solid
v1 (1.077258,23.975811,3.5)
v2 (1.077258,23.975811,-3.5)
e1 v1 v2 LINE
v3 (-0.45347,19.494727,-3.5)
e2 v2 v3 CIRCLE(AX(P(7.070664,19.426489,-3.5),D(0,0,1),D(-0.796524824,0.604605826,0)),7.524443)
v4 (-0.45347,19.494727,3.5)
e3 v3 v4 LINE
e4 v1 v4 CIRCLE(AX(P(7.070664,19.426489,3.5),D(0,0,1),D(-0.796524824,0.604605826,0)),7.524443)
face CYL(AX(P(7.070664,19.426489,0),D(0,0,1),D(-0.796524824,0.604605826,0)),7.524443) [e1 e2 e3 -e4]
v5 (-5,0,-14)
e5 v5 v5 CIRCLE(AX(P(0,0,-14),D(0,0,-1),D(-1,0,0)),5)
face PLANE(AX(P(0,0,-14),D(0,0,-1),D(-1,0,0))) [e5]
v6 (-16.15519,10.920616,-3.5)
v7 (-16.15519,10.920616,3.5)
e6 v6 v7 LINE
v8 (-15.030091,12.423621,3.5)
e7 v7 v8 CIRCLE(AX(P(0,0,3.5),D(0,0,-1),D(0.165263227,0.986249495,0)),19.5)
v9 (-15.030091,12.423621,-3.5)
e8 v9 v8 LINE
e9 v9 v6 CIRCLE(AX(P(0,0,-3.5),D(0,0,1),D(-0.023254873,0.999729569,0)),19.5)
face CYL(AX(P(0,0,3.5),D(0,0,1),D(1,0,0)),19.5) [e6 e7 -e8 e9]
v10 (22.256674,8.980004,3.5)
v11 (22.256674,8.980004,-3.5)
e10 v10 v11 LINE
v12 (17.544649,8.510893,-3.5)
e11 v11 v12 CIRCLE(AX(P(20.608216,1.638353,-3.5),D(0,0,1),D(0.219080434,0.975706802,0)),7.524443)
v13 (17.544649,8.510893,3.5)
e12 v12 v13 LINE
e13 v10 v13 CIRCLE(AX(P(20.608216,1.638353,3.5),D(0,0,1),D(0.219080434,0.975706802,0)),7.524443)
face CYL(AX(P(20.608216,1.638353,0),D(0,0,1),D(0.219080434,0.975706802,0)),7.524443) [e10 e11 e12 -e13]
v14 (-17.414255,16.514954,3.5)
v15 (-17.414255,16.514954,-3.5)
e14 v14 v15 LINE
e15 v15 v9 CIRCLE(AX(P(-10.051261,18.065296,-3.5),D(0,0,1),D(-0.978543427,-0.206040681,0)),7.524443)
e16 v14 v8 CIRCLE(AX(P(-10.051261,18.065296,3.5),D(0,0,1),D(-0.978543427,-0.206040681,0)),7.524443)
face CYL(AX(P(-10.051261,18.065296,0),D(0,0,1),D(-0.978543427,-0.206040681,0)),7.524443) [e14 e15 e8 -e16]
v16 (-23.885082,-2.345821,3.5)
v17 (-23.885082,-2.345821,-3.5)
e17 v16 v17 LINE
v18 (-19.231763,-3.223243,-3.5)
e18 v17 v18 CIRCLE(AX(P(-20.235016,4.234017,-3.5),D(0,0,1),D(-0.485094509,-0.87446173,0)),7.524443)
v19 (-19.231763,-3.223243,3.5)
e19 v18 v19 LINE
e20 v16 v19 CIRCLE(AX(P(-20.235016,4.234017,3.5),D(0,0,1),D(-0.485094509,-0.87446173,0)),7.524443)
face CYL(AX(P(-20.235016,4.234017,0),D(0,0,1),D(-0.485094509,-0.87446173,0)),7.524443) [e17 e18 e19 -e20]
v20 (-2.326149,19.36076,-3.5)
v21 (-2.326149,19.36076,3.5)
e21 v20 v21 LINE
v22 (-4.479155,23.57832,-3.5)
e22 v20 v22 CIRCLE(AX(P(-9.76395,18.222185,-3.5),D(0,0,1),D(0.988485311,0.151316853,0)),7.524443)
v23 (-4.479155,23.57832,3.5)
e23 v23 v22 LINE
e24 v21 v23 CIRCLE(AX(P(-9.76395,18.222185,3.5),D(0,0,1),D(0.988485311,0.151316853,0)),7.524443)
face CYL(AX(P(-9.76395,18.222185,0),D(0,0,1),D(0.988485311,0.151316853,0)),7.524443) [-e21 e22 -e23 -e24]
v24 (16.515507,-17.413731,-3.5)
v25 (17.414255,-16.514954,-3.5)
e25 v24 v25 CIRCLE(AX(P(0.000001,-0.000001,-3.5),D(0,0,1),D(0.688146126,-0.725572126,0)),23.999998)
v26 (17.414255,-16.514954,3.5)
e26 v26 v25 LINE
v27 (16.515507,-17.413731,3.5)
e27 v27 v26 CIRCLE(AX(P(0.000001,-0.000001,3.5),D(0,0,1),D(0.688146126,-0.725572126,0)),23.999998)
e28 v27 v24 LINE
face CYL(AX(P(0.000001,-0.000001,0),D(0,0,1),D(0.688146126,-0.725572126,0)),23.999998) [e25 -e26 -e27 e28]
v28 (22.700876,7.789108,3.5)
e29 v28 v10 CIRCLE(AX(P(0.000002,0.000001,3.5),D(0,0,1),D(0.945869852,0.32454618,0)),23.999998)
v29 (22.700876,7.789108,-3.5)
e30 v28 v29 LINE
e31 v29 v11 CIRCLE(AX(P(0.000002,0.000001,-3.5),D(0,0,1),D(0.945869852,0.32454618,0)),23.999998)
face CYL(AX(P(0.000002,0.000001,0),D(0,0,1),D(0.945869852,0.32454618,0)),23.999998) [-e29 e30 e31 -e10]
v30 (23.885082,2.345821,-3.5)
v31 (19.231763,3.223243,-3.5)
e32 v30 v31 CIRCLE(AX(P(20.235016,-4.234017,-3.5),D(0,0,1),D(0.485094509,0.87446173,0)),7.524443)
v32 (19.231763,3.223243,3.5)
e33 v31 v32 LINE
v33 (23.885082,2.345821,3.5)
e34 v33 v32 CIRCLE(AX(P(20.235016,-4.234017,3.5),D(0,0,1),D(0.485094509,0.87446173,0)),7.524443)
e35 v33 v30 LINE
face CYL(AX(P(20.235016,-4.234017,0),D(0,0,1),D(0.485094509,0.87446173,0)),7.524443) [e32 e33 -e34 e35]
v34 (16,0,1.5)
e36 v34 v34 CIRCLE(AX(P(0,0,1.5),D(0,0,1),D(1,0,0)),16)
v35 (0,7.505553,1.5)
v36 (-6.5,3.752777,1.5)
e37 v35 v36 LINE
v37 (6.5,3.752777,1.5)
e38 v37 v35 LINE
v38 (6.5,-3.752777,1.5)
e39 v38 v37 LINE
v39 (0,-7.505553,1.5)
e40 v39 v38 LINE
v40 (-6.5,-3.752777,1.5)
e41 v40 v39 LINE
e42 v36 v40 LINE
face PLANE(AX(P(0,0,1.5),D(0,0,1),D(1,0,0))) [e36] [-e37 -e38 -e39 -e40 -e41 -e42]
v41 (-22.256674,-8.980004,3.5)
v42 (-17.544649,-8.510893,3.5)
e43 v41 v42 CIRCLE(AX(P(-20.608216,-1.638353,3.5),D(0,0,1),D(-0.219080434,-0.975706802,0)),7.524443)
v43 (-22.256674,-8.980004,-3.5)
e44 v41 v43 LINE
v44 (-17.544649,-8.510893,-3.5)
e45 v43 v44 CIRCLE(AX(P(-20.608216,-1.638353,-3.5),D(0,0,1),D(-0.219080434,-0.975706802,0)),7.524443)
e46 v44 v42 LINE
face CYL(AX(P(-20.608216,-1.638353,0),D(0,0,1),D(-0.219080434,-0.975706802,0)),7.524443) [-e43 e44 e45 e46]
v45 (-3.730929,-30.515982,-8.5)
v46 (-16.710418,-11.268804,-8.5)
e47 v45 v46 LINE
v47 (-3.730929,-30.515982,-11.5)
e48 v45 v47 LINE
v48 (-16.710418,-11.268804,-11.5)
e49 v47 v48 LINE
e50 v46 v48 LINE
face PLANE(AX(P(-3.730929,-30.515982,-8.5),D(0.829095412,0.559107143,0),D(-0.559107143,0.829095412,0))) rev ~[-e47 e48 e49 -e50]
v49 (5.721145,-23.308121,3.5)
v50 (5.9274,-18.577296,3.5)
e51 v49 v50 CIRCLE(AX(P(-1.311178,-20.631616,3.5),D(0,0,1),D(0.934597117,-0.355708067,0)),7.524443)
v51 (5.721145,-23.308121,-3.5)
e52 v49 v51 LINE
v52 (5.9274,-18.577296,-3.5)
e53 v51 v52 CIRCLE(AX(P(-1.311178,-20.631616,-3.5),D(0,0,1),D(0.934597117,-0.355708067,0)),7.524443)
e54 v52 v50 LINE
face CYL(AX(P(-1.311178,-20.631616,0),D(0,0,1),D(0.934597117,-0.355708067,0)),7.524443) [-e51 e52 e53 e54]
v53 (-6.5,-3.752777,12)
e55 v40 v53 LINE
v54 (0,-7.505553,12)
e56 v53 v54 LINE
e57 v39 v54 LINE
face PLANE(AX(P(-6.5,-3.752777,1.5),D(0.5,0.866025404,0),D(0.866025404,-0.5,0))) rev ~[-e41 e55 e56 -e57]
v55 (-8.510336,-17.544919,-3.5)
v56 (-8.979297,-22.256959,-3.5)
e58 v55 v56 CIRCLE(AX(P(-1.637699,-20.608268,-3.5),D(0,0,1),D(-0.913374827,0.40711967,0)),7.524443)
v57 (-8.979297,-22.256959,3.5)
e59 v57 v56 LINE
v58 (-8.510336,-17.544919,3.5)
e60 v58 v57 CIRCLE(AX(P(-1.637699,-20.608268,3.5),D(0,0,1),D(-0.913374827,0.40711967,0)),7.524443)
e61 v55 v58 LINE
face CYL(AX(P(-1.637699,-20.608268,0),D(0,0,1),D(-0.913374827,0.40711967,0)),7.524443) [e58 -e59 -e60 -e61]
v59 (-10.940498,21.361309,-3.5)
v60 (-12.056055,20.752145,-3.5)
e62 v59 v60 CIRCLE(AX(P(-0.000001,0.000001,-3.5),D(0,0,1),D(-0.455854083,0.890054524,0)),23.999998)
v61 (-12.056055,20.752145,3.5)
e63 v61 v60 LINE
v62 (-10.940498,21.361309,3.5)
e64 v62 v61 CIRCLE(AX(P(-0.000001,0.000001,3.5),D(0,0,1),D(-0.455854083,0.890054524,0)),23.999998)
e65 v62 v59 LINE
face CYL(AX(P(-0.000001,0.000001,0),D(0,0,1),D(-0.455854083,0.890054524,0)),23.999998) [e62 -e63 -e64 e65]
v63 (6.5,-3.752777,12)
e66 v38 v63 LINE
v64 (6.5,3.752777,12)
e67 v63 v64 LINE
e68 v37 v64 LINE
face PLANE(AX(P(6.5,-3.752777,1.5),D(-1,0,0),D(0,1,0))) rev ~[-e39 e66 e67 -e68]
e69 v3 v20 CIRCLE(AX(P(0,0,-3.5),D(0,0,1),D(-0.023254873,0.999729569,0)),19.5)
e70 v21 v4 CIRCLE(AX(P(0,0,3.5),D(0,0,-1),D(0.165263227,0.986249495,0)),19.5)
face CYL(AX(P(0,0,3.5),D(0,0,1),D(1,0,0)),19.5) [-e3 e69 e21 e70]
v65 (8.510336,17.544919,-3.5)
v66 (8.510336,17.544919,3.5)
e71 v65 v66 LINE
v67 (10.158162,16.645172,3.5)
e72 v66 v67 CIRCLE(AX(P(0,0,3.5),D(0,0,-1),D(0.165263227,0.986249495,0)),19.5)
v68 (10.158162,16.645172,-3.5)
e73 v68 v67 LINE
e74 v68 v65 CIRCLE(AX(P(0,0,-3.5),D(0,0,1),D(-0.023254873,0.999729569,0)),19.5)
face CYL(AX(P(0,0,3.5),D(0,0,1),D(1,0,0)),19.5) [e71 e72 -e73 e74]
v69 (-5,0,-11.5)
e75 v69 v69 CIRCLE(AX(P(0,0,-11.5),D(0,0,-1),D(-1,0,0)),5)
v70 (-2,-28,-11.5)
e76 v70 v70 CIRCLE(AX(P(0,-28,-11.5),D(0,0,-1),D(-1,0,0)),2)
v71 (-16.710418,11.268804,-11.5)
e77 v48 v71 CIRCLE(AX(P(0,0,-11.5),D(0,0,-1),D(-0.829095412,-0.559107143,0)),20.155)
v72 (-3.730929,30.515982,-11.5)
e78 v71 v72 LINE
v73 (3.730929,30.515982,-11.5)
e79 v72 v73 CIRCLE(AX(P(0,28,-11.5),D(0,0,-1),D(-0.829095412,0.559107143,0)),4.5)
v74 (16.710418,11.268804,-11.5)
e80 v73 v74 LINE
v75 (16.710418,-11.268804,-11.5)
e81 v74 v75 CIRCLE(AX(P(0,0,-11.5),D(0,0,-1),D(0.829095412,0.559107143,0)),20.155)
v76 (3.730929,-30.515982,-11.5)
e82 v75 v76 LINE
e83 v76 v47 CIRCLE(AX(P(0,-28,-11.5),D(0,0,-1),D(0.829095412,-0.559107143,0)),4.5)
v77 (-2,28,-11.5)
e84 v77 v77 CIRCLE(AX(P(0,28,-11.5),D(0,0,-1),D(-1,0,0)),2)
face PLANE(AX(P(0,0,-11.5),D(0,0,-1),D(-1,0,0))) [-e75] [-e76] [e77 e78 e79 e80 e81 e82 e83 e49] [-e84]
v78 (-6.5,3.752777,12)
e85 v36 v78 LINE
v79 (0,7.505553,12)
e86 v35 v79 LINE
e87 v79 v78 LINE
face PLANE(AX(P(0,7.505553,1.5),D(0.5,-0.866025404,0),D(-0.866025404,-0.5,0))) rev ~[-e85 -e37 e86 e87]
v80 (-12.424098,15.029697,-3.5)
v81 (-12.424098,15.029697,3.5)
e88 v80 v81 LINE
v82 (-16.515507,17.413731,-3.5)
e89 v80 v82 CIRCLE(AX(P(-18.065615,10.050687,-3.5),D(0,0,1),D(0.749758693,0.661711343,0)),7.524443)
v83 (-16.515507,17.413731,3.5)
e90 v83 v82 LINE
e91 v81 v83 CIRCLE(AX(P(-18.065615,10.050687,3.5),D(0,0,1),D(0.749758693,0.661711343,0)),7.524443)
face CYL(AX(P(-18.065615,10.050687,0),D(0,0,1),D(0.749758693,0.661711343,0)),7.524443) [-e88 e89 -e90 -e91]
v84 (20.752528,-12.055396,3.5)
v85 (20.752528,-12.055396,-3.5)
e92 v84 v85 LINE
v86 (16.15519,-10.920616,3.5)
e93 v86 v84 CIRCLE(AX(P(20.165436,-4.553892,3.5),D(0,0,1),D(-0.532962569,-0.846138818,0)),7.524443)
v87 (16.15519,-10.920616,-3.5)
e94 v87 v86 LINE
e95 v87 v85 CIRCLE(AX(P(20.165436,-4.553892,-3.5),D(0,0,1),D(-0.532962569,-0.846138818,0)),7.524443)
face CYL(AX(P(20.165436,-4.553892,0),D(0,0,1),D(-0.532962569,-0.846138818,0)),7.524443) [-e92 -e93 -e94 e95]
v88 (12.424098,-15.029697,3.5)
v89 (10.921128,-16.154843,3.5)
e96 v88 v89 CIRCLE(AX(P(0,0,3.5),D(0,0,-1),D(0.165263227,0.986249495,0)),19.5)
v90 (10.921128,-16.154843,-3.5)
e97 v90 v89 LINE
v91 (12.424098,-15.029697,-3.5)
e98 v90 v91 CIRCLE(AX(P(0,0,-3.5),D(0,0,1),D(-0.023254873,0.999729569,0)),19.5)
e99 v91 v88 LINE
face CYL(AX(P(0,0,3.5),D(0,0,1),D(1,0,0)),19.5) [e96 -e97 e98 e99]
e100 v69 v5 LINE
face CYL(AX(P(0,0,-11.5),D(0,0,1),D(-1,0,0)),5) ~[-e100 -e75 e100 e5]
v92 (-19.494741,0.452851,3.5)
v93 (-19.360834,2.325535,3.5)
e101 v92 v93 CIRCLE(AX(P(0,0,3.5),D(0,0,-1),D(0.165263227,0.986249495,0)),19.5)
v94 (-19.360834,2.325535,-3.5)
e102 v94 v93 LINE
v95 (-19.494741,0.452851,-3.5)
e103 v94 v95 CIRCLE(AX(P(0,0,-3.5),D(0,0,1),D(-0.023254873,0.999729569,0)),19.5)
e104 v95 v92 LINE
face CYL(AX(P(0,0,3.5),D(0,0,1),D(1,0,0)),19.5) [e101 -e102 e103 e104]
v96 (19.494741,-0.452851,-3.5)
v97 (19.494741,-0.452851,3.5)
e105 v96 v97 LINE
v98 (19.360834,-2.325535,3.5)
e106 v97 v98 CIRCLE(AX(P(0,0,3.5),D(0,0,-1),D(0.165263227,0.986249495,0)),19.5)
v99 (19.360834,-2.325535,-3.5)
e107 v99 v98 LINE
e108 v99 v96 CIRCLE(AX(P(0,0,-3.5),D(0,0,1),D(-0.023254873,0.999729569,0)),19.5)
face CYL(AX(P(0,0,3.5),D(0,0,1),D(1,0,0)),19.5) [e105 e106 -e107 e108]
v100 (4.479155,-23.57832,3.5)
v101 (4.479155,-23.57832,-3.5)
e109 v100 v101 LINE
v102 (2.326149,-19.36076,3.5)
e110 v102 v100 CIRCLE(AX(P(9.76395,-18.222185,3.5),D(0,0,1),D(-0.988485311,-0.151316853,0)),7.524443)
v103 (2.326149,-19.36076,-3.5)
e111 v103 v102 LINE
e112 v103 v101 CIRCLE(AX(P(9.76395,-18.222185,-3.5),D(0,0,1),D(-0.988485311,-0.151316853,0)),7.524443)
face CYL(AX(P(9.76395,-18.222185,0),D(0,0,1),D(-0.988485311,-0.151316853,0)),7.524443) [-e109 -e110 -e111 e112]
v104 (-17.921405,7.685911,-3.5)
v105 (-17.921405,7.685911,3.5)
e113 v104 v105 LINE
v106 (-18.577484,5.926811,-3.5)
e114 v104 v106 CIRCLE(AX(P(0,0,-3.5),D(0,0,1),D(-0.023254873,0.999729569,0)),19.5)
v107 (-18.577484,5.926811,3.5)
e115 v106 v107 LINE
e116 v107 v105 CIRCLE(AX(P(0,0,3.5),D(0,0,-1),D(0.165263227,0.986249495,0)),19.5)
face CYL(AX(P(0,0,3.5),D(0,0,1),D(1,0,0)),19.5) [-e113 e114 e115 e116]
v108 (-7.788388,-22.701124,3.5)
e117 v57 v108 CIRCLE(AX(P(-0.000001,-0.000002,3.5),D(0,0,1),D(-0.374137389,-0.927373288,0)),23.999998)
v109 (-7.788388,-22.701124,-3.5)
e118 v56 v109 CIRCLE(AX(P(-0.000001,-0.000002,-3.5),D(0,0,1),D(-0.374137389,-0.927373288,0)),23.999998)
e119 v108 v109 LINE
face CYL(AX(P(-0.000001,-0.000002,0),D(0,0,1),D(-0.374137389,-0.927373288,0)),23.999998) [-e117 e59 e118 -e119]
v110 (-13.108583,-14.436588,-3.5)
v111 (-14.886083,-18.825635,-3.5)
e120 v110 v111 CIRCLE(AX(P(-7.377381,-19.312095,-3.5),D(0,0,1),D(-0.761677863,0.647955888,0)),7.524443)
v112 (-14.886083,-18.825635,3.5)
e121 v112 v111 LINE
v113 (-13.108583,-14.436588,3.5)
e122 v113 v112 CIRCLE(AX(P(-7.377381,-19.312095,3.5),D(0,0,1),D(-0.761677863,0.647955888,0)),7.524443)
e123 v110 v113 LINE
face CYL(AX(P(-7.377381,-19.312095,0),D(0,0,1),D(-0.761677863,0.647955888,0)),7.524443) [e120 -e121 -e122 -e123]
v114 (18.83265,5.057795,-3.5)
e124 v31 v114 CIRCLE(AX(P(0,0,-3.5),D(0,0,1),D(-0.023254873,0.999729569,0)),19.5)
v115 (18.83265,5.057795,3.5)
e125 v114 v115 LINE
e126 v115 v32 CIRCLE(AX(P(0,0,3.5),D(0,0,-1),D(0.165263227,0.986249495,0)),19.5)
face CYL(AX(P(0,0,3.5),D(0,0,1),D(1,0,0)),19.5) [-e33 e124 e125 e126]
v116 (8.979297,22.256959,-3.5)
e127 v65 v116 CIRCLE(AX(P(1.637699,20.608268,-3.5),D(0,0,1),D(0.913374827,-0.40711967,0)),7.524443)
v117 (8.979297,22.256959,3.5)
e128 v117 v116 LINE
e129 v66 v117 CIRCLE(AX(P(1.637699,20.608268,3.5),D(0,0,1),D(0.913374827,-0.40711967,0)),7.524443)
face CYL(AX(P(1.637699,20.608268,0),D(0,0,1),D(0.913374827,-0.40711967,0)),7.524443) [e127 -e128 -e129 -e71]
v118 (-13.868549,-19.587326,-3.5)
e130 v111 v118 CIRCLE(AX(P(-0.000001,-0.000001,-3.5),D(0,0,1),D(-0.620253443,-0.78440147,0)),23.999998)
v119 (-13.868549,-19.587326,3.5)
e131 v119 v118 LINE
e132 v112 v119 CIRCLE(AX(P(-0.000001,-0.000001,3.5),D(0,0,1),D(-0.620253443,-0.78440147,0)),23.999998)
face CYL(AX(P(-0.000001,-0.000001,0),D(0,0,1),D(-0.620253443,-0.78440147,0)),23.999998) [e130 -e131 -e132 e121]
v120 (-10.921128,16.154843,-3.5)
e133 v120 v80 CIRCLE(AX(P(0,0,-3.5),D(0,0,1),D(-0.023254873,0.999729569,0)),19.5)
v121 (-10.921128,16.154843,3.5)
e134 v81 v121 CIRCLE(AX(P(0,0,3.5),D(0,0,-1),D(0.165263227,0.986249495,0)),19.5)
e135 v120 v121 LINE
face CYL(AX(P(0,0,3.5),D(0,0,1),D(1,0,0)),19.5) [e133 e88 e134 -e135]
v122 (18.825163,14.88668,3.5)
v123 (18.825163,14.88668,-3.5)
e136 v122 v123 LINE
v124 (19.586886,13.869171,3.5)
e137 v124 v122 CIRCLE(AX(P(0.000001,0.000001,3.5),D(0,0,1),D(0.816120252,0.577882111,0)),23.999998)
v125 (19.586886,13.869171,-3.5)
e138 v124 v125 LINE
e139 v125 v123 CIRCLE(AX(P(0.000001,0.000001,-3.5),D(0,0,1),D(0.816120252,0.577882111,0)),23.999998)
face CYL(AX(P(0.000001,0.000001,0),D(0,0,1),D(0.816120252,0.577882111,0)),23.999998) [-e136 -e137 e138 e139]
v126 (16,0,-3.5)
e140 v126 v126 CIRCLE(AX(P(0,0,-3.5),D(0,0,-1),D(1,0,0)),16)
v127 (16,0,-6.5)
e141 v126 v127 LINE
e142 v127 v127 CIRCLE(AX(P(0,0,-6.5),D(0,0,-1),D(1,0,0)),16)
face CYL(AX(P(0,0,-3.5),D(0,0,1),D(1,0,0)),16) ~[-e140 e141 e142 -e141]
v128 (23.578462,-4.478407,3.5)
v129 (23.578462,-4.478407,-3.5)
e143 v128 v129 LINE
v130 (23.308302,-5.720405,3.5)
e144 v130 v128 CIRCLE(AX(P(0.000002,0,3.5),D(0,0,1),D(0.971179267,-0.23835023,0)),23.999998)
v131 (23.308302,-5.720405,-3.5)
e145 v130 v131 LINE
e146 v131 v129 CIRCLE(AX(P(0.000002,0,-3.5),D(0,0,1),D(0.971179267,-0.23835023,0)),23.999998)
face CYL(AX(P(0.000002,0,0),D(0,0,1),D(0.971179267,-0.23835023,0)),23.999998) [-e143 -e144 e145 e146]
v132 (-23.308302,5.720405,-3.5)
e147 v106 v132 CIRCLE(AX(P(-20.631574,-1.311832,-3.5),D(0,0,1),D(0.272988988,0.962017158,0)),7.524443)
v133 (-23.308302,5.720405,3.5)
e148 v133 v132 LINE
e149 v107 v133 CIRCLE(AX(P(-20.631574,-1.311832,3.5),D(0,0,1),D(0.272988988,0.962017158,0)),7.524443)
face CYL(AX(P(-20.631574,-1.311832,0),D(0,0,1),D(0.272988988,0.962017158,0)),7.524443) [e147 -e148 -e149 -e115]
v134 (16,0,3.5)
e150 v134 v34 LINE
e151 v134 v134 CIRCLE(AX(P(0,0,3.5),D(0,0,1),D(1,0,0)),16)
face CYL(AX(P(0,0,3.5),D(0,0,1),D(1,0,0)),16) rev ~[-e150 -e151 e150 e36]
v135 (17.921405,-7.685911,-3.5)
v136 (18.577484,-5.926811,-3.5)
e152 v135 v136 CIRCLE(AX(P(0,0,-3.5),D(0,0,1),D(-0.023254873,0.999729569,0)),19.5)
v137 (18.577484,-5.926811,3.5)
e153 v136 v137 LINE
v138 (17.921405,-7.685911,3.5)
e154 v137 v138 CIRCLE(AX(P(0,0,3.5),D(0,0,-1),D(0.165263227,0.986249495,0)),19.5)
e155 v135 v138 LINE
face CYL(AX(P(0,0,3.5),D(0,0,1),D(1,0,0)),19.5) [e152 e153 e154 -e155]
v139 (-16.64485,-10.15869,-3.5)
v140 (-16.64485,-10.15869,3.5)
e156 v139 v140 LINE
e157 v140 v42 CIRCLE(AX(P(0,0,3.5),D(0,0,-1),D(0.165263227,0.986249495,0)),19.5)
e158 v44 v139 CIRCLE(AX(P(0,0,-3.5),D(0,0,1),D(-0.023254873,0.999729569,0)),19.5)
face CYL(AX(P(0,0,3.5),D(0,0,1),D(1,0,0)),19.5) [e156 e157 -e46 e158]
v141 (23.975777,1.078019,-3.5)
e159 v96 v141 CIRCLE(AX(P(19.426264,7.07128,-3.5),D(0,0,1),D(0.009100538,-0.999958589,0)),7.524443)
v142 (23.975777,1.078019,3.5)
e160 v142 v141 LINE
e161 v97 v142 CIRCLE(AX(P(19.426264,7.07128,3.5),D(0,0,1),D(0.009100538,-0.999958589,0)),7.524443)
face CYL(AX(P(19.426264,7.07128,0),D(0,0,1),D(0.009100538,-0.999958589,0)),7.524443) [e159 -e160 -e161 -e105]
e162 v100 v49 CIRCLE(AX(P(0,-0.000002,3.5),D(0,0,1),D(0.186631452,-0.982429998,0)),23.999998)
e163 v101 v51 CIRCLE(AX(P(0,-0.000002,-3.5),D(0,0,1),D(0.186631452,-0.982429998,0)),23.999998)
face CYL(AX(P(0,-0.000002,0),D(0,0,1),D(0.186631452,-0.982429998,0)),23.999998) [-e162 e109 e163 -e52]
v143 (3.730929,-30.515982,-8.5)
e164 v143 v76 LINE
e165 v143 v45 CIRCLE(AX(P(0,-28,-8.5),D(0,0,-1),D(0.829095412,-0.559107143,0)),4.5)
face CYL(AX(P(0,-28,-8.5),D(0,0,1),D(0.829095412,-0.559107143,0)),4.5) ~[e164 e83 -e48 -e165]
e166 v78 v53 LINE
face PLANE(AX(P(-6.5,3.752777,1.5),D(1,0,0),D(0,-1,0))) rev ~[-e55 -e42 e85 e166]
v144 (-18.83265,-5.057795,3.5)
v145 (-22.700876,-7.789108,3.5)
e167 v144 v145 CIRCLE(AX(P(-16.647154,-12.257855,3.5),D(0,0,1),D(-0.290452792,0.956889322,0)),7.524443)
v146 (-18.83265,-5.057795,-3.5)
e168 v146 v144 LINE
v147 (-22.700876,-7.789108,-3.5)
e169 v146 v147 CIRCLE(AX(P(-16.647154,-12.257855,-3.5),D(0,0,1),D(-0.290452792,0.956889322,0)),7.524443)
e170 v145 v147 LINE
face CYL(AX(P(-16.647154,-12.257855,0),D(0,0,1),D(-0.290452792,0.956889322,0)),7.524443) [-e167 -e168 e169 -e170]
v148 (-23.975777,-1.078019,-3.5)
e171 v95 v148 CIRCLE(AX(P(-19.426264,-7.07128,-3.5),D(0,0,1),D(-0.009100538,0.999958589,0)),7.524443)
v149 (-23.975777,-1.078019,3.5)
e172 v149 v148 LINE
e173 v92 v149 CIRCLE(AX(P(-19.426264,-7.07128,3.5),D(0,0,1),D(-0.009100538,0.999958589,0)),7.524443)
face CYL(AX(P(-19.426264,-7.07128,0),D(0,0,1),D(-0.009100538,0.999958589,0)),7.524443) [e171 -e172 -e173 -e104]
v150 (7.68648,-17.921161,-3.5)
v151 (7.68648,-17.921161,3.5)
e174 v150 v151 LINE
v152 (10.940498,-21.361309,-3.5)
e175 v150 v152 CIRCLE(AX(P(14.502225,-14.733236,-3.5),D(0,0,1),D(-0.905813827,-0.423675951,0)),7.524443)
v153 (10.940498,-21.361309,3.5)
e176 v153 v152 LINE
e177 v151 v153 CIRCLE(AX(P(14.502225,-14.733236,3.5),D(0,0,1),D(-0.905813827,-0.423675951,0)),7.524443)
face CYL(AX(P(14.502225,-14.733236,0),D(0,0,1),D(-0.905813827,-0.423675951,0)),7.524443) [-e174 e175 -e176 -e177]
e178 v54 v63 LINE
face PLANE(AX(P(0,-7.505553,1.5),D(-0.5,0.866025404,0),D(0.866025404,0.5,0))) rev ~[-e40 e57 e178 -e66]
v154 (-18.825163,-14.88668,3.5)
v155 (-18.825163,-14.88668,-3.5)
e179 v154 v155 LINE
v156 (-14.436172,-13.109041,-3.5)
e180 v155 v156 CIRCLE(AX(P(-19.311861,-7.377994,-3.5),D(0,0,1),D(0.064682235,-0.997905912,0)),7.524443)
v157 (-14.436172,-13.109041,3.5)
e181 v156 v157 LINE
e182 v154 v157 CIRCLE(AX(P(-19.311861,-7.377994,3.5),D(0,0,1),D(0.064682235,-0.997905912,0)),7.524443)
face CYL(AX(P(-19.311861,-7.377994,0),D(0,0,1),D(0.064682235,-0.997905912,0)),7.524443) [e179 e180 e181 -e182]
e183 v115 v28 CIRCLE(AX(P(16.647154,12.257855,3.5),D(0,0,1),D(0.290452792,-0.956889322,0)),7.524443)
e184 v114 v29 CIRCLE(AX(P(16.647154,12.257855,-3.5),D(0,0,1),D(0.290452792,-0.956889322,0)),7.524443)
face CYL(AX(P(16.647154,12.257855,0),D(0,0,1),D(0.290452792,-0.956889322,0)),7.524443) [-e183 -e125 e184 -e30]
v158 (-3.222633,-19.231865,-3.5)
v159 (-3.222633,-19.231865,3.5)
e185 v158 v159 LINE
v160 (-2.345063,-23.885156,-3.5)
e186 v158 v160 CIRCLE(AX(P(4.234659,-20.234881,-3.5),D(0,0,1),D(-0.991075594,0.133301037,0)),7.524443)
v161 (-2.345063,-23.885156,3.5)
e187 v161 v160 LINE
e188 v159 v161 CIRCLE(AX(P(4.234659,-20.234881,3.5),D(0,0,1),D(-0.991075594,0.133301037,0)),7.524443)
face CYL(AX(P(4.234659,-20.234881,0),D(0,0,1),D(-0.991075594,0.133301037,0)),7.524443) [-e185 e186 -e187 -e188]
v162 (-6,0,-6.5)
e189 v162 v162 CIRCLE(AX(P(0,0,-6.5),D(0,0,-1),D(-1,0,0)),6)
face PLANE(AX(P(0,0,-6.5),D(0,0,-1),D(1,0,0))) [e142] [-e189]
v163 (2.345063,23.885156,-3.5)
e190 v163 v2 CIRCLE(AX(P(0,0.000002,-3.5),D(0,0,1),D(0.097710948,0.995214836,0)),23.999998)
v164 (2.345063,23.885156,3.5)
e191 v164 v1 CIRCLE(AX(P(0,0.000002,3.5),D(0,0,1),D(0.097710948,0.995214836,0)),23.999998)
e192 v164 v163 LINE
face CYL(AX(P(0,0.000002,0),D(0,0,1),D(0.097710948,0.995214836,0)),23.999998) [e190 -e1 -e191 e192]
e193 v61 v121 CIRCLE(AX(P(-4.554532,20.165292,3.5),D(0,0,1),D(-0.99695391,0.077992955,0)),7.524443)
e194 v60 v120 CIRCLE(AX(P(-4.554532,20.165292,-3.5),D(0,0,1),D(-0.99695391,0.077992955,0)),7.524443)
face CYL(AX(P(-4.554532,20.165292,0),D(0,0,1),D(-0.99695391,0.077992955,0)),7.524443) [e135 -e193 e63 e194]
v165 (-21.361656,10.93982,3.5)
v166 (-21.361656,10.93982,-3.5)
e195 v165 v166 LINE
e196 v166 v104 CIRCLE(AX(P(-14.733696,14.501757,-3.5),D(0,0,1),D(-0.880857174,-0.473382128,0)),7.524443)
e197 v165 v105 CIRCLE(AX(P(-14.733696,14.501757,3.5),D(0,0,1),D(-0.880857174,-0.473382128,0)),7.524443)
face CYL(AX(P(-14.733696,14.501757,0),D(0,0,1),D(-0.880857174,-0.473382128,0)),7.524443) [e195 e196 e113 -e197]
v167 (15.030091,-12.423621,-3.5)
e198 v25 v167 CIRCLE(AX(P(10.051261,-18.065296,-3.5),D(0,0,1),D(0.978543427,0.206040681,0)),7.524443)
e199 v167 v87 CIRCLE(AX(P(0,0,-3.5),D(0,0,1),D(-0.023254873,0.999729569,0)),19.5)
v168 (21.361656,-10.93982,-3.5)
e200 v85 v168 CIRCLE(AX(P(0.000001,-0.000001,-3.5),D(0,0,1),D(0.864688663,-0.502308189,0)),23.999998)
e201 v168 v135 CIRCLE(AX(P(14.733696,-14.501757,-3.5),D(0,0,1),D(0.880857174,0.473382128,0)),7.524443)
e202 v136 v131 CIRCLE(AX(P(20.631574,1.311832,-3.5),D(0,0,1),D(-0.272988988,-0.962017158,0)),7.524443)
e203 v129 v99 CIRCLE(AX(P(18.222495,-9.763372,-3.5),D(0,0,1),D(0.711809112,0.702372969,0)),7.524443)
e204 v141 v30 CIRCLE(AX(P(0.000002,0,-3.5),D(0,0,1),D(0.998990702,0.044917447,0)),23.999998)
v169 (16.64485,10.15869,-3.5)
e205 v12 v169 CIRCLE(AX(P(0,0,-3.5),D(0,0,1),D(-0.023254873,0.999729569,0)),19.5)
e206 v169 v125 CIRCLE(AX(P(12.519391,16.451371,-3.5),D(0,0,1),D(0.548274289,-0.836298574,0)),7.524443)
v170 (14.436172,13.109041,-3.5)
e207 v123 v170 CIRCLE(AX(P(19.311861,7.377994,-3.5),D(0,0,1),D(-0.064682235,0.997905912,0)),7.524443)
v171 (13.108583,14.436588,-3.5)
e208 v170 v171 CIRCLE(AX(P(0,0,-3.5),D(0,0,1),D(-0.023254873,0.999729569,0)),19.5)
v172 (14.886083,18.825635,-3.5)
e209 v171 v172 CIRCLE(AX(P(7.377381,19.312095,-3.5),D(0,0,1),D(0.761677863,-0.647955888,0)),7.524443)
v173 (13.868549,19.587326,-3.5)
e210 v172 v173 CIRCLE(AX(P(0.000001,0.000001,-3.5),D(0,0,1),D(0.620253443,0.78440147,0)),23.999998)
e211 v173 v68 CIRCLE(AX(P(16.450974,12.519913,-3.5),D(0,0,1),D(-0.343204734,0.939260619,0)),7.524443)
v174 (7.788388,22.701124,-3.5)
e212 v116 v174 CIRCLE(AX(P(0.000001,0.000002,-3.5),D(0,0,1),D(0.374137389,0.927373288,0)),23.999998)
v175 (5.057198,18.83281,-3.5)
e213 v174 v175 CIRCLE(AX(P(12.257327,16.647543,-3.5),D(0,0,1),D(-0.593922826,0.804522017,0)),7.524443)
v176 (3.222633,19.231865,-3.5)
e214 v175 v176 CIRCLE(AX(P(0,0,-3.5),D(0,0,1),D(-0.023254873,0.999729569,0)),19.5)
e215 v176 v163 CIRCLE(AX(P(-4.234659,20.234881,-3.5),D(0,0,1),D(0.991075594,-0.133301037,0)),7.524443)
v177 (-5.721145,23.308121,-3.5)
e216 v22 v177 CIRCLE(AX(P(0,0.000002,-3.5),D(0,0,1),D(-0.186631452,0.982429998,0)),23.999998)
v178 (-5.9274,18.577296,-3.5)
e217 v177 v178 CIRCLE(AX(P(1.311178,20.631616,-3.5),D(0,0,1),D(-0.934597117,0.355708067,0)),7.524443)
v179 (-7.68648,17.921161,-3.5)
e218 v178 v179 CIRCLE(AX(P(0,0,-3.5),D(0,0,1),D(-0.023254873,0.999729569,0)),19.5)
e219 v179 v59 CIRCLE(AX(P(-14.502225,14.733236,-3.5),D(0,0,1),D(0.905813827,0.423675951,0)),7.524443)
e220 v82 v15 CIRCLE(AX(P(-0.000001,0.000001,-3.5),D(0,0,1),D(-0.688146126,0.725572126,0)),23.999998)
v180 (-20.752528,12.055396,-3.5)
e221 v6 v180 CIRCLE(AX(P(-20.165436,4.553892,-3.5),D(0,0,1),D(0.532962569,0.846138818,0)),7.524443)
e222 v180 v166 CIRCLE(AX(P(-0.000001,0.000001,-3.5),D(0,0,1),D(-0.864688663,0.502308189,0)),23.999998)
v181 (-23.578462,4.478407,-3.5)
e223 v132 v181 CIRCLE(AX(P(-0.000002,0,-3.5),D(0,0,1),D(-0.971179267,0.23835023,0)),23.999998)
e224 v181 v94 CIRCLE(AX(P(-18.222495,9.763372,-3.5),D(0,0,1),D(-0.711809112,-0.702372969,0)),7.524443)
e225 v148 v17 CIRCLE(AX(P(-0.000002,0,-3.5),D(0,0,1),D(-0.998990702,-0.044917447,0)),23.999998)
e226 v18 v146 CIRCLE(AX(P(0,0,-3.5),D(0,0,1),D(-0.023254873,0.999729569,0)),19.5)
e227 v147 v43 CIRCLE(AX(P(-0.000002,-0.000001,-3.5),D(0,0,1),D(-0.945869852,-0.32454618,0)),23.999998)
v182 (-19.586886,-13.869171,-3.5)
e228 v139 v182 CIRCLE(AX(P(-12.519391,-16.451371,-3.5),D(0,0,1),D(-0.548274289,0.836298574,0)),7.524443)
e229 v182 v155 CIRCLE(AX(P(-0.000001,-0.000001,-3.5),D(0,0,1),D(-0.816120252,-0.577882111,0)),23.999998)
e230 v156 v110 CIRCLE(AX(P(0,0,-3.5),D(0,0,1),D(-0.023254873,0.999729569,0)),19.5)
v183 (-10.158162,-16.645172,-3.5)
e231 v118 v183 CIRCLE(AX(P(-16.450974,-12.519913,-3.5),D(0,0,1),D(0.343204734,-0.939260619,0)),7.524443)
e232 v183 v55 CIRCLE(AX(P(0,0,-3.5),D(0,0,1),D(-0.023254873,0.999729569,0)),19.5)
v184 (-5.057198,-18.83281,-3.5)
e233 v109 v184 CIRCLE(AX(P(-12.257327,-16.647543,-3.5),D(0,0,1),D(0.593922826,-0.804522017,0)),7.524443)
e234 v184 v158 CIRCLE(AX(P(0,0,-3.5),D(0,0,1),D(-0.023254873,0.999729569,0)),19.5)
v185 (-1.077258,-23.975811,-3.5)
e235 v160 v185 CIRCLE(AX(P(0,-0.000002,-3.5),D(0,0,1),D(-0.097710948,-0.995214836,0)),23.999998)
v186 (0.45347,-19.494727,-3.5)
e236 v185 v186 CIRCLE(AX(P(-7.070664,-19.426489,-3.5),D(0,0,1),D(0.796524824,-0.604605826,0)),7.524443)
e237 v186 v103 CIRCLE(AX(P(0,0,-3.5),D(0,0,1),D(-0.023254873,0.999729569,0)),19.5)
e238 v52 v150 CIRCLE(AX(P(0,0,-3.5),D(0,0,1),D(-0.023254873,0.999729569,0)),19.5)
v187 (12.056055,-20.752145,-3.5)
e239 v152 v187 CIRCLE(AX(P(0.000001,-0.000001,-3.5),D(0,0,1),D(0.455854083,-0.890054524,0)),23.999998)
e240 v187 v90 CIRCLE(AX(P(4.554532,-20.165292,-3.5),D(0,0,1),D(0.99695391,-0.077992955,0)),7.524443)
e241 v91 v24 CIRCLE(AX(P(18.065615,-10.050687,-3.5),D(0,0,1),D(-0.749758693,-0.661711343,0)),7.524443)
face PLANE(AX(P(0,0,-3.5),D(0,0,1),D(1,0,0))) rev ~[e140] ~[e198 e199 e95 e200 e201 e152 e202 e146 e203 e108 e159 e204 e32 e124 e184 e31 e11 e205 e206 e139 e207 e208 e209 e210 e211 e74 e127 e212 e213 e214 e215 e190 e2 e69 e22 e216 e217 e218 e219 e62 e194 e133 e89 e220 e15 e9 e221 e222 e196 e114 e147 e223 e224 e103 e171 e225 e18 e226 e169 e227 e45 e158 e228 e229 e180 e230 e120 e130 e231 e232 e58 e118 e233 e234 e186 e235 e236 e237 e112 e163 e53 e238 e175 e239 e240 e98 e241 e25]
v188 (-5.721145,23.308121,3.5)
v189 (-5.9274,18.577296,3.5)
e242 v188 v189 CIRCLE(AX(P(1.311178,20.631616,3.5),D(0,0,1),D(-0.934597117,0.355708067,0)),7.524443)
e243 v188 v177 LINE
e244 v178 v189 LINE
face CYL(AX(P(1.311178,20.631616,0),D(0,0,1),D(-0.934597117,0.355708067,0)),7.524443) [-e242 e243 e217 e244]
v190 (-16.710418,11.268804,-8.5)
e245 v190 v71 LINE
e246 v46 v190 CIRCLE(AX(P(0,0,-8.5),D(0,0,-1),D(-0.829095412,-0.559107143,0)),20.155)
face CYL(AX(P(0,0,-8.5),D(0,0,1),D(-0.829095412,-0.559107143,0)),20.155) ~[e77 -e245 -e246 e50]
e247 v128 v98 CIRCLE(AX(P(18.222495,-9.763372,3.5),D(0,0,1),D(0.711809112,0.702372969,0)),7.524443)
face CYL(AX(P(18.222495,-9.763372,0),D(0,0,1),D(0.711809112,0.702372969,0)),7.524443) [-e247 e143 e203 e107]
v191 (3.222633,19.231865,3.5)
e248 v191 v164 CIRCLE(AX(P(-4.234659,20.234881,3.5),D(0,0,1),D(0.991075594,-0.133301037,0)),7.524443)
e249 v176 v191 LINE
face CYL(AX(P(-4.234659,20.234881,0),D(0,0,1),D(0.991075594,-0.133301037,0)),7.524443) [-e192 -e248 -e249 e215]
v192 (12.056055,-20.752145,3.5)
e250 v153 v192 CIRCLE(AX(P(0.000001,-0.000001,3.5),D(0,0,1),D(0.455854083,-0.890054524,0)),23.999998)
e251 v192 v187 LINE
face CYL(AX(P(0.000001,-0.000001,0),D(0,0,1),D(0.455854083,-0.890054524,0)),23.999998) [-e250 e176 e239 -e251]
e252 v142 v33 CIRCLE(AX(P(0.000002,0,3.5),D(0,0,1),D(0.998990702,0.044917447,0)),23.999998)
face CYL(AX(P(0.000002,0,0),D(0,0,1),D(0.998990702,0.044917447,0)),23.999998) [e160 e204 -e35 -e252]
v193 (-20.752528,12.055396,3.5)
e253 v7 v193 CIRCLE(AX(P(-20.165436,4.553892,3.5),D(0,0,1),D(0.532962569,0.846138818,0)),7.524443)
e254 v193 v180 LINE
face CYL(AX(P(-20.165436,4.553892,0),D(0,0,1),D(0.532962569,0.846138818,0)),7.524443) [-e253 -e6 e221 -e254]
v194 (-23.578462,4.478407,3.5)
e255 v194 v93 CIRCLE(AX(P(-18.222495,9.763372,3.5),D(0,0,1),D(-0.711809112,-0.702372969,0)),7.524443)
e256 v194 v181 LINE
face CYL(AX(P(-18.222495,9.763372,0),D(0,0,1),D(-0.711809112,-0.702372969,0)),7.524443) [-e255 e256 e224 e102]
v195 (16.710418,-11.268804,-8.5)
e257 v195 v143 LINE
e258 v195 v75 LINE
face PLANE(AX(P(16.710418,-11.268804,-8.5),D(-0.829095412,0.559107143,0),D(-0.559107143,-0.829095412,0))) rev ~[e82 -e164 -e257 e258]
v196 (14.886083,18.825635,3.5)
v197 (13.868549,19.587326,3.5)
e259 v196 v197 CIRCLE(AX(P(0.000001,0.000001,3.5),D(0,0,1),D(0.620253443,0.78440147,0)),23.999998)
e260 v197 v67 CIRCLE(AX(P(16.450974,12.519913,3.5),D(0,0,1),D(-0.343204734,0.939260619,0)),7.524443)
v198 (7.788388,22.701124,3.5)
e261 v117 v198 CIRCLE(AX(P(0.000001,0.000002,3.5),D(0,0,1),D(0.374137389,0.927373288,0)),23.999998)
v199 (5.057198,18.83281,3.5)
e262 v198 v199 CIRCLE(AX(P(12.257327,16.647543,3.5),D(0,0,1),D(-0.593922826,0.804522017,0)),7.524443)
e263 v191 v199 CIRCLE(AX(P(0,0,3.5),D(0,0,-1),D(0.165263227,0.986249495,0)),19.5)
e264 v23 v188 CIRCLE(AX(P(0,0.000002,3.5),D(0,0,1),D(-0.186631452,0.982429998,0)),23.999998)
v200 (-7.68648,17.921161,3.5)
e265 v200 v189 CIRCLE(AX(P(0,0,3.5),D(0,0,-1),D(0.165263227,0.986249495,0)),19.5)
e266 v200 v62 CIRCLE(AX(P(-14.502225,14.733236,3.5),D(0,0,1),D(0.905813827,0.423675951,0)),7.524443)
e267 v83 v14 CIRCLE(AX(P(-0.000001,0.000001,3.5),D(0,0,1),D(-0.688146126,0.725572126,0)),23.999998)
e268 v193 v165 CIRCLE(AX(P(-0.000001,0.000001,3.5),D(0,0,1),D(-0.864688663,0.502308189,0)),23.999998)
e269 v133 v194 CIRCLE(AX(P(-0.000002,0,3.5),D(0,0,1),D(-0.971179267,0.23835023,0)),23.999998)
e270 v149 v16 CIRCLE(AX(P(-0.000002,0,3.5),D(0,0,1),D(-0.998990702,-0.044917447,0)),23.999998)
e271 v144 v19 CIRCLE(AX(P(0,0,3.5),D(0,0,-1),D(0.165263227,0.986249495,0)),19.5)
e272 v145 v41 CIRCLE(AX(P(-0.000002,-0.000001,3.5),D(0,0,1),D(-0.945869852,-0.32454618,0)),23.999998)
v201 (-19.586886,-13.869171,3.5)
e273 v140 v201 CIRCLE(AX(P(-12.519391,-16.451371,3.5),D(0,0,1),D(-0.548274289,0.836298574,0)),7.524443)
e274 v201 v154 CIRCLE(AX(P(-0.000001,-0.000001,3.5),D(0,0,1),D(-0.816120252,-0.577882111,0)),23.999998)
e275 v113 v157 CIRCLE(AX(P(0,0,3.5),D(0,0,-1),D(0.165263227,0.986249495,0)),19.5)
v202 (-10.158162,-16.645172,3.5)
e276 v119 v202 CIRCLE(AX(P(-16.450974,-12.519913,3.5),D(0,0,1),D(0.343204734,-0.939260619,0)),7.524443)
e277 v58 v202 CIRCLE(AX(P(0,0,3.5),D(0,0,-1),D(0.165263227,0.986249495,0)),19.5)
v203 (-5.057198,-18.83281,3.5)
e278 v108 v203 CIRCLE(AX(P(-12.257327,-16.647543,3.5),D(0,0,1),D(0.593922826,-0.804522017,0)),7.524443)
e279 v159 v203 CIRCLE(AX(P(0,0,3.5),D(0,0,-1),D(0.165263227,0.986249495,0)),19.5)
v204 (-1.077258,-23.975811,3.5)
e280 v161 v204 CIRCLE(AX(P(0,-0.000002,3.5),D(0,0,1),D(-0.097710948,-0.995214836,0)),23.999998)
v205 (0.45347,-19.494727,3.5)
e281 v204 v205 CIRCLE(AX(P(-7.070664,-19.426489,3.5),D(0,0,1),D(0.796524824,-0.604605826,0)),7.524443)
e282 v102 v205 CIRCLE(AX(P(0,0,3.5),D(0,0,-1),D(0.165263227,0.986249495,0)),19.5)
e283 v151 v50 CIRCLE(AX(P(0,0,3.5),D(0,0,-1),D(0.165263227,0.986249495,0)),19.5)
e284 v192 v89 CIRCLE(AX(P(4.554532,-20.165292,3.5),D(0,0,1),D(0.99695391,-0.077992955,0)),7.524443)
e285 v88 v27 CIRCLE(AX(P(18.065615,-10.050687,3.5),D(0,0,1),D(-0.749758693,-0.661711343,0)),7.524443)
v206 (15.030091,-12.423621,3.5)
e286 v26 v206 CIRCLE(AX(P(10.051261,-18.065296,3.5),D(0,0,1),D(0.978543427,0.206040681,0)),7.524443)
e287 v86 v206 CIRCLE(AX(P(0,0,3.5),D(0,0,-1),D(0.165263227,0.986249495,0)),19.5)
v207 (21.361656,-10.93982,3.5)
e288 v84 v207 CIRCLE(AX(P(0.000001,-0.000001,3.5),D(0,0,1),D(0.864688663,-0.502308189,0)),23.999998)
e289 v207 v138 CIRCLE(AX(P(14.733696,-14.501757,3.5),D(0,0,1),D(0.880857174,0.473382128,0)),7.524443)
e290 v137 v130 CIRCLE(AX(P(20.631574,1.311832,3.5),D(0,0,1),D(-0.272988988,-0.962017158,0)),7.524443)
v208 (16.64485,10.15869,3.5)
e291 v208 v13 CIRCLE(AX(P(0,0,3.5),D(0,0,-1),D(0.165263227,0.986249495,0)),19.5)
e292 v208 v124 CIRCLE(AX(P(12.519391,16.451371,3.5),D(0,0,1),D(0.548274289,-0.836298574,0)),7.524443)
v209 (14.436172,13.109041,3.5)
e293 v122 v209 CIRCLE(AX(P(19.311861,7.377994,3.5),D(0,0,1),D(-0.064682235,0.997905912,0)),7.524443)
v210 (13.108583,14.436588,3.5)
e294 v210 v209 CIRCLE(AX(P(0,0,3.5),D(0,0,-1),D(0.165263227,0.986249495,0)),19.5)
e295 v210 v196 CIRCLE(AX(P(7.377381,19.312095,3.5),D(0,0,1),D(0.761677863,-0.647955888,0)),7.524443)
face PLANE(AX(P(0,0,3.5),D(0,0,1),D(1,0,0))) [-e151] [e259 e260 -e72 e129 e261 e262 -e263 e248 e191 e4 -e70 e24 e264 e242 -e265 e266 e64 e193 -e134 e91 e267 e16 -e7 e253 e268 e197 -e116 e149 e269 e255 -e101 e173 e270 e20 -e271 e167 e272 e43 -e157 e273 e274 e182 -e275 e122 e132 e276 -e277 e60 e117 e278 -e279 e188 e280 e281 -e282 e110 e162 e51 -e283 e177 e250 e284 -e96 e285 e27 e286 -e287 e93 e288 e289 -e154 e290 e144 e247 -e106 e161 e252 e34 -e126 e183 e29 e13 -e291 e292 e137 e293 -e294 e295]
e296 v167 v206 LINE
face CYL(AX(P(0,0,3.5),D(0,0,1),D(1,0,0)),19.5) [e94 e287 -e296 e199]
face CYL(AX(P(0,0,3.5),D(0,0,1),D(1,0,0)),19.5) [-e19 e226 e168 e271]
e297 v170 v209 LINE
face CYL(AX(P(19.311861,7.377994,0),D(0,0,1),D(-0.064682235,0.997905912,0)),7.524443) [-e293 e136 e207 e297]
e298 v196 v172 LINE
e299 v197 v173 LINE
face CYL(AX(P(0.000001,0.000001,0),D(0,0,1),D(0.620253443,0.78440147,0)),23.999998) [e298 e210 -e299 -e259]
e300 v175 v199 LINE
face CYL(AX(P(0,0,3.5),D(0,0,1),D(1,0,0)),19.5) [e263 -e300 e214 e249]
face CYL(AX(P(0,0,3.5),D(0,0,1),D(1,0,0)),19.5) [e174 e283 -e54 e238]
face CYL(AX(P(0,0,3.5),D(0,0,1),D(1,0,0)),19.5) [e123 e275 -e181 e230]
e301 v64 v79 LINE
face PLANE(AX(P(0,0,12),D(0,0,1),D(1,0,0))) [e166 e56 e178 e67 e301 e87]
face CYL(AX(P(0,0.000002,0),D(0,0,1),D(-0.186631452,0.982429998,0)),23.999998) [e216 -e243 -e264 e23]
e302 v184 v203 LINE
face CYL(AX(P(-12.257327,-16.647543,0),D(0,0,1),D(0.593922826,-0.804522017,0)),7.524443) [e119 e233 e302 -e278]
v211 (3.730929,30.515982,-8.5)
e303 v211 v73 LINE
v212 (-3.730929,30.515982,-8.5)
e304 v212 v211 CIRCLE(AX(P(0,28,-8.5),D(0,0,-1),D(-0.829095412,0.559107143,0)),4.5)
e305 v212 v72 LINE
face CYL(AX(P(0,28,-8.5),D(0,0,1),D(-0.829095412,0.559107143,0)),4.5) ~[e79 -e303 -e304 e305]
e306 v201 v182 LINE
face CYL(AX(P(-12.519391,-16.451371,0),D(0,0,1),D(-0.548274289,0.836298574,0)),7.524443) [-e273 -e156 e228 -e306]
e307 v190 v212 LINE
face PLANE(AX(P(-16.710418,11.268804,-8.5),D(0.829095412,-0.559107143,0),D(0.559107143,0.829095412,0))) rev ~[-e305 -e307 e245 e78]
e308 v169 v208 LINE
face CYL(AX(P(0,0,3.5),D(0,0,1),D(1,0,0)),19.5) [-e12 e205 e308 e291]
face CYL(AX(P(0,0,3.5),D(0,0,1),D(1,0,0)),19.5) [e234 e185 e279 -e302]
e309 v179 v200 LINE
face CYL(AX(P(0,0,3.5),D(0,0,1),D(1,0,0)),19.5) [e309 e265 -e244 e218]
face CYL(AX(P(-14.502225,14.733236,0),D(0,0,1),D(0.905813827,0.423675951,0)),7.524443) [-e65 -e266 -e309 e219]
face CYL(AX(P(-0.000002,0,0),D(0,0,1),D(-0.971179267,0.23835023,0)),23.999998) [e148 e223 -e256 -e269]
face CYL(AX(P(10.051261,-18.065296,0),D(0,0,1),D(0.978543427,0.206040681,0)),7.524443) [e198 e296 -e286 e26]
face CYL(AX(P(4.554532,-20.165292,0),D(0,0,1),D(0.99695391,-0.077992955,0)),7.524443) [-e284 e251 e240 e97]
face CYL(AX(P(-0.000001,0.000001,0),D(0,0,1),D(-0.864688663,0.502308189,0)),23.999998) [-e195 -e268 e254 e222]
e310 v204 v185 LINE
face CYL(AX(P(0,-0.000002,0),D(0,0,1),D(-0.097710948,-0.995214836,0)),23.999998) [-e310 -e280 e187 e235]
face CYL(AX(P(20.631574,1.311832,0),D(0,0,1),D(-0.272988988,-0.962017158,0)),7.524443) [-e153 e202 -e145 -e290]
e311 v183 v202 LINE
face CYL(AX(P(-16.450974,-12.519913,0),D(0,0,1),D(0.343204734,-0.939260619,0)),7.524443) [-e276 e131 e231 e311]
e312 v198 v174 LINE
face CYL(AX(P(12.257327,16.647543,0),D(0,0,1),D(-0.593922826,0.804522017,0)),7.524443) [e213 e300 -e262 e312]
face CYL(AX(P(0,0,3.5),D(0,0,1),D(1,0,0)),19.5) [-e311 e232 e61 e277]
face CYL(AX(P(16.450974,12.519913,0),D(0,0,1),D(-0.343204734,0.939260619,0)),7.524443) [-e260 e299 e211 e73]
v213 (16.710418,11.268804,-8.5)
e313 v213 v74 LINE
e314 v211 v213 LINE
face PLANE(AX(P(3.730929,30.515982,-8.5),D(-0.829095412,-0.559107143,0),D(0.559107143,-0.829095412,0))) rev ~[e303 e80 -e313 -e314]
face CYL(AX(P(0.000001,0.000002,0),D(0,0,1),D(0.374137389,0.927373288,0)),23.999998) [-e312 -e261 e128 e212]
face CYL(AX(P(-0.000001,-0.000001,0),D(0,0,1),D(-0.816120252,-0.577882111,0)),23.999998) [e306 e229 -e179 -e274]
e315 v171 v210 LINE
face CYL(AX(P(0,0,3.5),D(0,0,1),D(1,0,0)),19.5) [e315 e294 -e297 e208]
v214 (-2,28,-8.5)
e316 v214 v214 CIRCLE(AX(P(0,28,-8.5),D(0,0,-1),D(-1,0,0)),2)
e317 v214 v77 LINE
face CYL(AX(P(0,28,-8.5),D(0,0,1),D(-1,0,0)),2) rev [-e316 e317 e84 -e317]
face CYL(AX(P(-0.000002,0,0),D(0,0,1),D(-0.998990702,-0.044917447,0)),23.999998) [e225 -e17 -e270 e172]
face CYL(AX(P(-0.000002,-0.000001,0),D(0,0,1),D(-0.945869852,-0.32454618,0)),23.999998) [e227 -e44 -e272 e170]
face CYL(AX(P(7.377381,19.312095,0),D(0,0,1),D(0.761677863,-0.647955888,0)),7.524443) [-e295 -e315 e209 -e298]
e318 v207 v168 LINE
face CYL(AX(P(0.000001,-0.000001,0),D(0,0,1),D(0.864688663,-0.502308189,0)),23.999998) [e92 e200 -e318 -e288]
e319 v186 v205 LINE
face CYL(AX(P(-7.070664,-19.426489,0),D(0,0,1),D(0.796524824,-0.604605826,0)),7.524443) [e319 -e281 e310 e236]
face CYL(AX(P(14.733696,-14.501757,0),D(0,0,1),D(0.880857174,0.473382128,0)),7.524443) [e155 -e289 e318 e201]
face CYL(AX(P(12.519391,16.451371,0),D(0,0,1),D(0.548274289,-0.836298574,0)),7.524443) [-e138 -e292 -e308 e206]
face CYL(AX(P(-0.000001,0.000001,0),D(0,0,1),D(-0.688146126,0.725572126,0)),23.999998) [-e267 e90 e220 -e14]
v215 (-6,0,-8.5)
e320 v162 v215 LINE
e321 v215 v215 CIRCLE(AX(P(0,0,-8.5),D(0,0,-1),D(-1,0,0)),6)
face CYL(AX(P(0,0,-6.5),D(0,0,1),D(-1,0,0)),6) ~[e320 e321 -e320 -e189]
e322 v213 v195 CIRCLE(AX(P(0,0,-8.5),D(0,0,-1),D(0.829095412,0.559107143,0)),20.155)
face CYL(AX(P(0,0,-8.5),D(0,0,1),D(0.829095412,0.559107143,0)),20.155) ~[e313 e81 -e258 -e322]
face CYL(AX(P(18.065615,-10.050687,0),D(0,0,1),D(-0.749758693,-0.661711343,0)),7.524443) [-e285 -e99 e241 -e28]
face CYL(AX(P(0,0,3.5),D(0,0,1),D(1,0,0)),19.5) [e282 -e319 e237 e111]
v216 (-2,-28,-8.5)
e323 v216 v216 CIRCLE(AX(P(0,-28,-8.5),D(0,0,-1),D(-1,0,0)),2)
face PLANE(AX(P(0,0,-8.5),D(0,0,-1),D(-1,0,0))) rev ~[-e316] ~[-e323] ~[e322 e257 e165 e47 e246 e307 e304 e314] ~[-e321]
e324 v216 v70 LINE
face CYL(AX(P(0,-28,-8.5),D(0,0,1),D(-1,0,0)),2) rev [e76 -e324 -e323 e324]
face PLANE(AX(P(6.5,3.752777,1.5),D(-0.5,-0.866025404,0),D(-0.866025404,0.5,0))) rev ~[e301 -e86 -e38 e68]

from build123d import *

# Parameters (mm, degrees)
EXTRUDE_1_DEPTH          = 3.5
SKETCH_2_R               = 19.5
EXTRUDE_2_DEPTH          = 7
PATTERN_CIRCULAR_1_COUNT = 22
SKETCH_3_R               = 16
CUT_EXTRUDE_1_DEPTH      = 2
SKETCH_4_R               = 16
EXTRUDE_3_DEPTH          = 3
SKETCH_5_R               = 6
EXTRUDE_4_DEPTH          = 2
SKETCH_6_R               = 2
EXTRUDE_5_DEPTH          = 3
SKETCH_7_R               = 5
EXTRUDE_6_DEPTH          = 2.5
EXTRUDE_7_DEPTH          = 10.5


with BuildPart() as part:
    # 草图1 → 凸台-拉伸1 (new, symmetric)
    with BuildSketch(Plane.XY):
        with BuildLine():
            ThreePointArc((1.077257951, 23.975811046), (-0.049799614, 21.8588225), (-0.453470023, 19.494726593))
            ThreePointArc((-0.453470023, 19.494726593), (1.390805461, 19.450338305), (3.222632926, 19.231865147))
            ThreePointArc((3.222632926, 19.231865147), (3.159441147, 21.629344251), (2.3450627, 23.885156079))
            ThreePointArc((2.3450627, 23.885156079), (1.711760568, 23.938877914), (1.077257951, 23.975811046))
        make_face()
    extrude_1 = extrude(amount=EXTRUDE_1_DEPTH, both=True)

    # 草图2 → 凸台-拉伸2 (add)
    with BuildSketch(Plane.XY.offset(3.5)):
        Circle(SKETCH_2_R)
    extrude(amount=-EXTRUDE_2_DEPTH)

    # 阵列(圆周)1: 凸台-拉伸1 ×22 about axis
    pattern_circular_1_axis = Axis((0, 0, 0), (0, 0, 1))
    for i in range(1, PATTERN_CIRCULAR_1_COUNT):
        add(extrude_1.rotate(pattern_circular_1_axis, i * 360 / PATTERN_CIRCULAR_1_COUNT))

    # 草图3 → 切除-拉伸1 (cut)
    with BuildSketch(Plane.XY.offset(3.5)):
        Circle(SKETCH_3_R)
    extrude(amount=-CUT_EXTRUDE_1_DEPTH, mode=Mode.SUBTRACT)

    # 草图4 → 凸台-拉伸3 (add)
    with BuildSketch(Plane(origin=(0, 0, -3.5), x_dir=(-1, 0, 0), z_dir=(0, 0, -1))):
        with Locations(Location((0, 0, 0), (0, 0, 180))):
            Circle(SKETCH_4_R)
    extrude(amount=EXTRUDE_3_DEPTH)

    # 草图5 → 凸台-拉伸4 (add)
    with BuildSketch(Plane(origin=(0, 0, -6.5), x_dir=(-1, 0, 0), z_dir=(0, 0, -1))):
        Circle(SKETCH_5_R)
    extrude(amount=EXTRUDE_4_DEPTH)

    # 草图6 → 凸台-拉伸5 (add)
    with BuildSketch(Plane(origin=(0, 0, -8.5), x_dir=(-1, 0, 0), z_dir=(0, 0, -1))):
        with BuildLine():
            Line((-3.730929356, 30.515982143), (-16.710418036, 11.268804464))
            ThreePointArc((-16.710418036, 11.268804464), (-20.155, 0), (-16.710418036, -11.268804464))
            Line((-16.710418036, -11.268804464), (-3.730929356, -30.515982143))
            ThreePointArc((-3.730929356, -30.515982143), (0, -32.5), (3.730929356, -30.515982143))
            Line((3.730929356, -30.515982143), (16.710418036, -11.268804464))
            ThreePointArc((16.710418036, -11.268804464), (20.155, 0), (16.710418036, 11.268804464))
            Line((16.710418036, 11.268804464), (3.730929356, 30.515982143))
            ThreePointArc((3.730929356, 30.515982143), (0, 32.5), (-3.730929356, 30.515982143))
        make_face()
        with Locations((0, 28)):
            Circle(SKETCH_6_R, mode=Mode.SUBTRACT)
        with Locations((0, -28)):
            Circle(SKETCH_6_R, mode=Mode.SUBTRACT)
    extrude(amount=EXTRUDE_5_DEPTH)

    # 草图7 → 凸台-拉伸6 (add)
    with BuildSketch(Plane(origin=(0, 0, -11.5), x_dir=(-1, 0, 0), z_dir=(0, 0, -1))):
        Circle(SKETCH_7_R)
    extrude(amount=EXTRUDE_6_DEPTH)

    # 草图8 → 凸台-拉伸7 (add)
    with BuildSketch(Plane.XY.offset(1.5)):
        Polygon((0, 7.505553499), (-6.5, 3.75277675), (-6.5, -3.75277675), (0, -7.505553499), (6.5, -3.75277675), (6.5, 3.75277675), align=None)
    extrude(amount=EXTRUDE_7_DEPTH)


solid = part.part
